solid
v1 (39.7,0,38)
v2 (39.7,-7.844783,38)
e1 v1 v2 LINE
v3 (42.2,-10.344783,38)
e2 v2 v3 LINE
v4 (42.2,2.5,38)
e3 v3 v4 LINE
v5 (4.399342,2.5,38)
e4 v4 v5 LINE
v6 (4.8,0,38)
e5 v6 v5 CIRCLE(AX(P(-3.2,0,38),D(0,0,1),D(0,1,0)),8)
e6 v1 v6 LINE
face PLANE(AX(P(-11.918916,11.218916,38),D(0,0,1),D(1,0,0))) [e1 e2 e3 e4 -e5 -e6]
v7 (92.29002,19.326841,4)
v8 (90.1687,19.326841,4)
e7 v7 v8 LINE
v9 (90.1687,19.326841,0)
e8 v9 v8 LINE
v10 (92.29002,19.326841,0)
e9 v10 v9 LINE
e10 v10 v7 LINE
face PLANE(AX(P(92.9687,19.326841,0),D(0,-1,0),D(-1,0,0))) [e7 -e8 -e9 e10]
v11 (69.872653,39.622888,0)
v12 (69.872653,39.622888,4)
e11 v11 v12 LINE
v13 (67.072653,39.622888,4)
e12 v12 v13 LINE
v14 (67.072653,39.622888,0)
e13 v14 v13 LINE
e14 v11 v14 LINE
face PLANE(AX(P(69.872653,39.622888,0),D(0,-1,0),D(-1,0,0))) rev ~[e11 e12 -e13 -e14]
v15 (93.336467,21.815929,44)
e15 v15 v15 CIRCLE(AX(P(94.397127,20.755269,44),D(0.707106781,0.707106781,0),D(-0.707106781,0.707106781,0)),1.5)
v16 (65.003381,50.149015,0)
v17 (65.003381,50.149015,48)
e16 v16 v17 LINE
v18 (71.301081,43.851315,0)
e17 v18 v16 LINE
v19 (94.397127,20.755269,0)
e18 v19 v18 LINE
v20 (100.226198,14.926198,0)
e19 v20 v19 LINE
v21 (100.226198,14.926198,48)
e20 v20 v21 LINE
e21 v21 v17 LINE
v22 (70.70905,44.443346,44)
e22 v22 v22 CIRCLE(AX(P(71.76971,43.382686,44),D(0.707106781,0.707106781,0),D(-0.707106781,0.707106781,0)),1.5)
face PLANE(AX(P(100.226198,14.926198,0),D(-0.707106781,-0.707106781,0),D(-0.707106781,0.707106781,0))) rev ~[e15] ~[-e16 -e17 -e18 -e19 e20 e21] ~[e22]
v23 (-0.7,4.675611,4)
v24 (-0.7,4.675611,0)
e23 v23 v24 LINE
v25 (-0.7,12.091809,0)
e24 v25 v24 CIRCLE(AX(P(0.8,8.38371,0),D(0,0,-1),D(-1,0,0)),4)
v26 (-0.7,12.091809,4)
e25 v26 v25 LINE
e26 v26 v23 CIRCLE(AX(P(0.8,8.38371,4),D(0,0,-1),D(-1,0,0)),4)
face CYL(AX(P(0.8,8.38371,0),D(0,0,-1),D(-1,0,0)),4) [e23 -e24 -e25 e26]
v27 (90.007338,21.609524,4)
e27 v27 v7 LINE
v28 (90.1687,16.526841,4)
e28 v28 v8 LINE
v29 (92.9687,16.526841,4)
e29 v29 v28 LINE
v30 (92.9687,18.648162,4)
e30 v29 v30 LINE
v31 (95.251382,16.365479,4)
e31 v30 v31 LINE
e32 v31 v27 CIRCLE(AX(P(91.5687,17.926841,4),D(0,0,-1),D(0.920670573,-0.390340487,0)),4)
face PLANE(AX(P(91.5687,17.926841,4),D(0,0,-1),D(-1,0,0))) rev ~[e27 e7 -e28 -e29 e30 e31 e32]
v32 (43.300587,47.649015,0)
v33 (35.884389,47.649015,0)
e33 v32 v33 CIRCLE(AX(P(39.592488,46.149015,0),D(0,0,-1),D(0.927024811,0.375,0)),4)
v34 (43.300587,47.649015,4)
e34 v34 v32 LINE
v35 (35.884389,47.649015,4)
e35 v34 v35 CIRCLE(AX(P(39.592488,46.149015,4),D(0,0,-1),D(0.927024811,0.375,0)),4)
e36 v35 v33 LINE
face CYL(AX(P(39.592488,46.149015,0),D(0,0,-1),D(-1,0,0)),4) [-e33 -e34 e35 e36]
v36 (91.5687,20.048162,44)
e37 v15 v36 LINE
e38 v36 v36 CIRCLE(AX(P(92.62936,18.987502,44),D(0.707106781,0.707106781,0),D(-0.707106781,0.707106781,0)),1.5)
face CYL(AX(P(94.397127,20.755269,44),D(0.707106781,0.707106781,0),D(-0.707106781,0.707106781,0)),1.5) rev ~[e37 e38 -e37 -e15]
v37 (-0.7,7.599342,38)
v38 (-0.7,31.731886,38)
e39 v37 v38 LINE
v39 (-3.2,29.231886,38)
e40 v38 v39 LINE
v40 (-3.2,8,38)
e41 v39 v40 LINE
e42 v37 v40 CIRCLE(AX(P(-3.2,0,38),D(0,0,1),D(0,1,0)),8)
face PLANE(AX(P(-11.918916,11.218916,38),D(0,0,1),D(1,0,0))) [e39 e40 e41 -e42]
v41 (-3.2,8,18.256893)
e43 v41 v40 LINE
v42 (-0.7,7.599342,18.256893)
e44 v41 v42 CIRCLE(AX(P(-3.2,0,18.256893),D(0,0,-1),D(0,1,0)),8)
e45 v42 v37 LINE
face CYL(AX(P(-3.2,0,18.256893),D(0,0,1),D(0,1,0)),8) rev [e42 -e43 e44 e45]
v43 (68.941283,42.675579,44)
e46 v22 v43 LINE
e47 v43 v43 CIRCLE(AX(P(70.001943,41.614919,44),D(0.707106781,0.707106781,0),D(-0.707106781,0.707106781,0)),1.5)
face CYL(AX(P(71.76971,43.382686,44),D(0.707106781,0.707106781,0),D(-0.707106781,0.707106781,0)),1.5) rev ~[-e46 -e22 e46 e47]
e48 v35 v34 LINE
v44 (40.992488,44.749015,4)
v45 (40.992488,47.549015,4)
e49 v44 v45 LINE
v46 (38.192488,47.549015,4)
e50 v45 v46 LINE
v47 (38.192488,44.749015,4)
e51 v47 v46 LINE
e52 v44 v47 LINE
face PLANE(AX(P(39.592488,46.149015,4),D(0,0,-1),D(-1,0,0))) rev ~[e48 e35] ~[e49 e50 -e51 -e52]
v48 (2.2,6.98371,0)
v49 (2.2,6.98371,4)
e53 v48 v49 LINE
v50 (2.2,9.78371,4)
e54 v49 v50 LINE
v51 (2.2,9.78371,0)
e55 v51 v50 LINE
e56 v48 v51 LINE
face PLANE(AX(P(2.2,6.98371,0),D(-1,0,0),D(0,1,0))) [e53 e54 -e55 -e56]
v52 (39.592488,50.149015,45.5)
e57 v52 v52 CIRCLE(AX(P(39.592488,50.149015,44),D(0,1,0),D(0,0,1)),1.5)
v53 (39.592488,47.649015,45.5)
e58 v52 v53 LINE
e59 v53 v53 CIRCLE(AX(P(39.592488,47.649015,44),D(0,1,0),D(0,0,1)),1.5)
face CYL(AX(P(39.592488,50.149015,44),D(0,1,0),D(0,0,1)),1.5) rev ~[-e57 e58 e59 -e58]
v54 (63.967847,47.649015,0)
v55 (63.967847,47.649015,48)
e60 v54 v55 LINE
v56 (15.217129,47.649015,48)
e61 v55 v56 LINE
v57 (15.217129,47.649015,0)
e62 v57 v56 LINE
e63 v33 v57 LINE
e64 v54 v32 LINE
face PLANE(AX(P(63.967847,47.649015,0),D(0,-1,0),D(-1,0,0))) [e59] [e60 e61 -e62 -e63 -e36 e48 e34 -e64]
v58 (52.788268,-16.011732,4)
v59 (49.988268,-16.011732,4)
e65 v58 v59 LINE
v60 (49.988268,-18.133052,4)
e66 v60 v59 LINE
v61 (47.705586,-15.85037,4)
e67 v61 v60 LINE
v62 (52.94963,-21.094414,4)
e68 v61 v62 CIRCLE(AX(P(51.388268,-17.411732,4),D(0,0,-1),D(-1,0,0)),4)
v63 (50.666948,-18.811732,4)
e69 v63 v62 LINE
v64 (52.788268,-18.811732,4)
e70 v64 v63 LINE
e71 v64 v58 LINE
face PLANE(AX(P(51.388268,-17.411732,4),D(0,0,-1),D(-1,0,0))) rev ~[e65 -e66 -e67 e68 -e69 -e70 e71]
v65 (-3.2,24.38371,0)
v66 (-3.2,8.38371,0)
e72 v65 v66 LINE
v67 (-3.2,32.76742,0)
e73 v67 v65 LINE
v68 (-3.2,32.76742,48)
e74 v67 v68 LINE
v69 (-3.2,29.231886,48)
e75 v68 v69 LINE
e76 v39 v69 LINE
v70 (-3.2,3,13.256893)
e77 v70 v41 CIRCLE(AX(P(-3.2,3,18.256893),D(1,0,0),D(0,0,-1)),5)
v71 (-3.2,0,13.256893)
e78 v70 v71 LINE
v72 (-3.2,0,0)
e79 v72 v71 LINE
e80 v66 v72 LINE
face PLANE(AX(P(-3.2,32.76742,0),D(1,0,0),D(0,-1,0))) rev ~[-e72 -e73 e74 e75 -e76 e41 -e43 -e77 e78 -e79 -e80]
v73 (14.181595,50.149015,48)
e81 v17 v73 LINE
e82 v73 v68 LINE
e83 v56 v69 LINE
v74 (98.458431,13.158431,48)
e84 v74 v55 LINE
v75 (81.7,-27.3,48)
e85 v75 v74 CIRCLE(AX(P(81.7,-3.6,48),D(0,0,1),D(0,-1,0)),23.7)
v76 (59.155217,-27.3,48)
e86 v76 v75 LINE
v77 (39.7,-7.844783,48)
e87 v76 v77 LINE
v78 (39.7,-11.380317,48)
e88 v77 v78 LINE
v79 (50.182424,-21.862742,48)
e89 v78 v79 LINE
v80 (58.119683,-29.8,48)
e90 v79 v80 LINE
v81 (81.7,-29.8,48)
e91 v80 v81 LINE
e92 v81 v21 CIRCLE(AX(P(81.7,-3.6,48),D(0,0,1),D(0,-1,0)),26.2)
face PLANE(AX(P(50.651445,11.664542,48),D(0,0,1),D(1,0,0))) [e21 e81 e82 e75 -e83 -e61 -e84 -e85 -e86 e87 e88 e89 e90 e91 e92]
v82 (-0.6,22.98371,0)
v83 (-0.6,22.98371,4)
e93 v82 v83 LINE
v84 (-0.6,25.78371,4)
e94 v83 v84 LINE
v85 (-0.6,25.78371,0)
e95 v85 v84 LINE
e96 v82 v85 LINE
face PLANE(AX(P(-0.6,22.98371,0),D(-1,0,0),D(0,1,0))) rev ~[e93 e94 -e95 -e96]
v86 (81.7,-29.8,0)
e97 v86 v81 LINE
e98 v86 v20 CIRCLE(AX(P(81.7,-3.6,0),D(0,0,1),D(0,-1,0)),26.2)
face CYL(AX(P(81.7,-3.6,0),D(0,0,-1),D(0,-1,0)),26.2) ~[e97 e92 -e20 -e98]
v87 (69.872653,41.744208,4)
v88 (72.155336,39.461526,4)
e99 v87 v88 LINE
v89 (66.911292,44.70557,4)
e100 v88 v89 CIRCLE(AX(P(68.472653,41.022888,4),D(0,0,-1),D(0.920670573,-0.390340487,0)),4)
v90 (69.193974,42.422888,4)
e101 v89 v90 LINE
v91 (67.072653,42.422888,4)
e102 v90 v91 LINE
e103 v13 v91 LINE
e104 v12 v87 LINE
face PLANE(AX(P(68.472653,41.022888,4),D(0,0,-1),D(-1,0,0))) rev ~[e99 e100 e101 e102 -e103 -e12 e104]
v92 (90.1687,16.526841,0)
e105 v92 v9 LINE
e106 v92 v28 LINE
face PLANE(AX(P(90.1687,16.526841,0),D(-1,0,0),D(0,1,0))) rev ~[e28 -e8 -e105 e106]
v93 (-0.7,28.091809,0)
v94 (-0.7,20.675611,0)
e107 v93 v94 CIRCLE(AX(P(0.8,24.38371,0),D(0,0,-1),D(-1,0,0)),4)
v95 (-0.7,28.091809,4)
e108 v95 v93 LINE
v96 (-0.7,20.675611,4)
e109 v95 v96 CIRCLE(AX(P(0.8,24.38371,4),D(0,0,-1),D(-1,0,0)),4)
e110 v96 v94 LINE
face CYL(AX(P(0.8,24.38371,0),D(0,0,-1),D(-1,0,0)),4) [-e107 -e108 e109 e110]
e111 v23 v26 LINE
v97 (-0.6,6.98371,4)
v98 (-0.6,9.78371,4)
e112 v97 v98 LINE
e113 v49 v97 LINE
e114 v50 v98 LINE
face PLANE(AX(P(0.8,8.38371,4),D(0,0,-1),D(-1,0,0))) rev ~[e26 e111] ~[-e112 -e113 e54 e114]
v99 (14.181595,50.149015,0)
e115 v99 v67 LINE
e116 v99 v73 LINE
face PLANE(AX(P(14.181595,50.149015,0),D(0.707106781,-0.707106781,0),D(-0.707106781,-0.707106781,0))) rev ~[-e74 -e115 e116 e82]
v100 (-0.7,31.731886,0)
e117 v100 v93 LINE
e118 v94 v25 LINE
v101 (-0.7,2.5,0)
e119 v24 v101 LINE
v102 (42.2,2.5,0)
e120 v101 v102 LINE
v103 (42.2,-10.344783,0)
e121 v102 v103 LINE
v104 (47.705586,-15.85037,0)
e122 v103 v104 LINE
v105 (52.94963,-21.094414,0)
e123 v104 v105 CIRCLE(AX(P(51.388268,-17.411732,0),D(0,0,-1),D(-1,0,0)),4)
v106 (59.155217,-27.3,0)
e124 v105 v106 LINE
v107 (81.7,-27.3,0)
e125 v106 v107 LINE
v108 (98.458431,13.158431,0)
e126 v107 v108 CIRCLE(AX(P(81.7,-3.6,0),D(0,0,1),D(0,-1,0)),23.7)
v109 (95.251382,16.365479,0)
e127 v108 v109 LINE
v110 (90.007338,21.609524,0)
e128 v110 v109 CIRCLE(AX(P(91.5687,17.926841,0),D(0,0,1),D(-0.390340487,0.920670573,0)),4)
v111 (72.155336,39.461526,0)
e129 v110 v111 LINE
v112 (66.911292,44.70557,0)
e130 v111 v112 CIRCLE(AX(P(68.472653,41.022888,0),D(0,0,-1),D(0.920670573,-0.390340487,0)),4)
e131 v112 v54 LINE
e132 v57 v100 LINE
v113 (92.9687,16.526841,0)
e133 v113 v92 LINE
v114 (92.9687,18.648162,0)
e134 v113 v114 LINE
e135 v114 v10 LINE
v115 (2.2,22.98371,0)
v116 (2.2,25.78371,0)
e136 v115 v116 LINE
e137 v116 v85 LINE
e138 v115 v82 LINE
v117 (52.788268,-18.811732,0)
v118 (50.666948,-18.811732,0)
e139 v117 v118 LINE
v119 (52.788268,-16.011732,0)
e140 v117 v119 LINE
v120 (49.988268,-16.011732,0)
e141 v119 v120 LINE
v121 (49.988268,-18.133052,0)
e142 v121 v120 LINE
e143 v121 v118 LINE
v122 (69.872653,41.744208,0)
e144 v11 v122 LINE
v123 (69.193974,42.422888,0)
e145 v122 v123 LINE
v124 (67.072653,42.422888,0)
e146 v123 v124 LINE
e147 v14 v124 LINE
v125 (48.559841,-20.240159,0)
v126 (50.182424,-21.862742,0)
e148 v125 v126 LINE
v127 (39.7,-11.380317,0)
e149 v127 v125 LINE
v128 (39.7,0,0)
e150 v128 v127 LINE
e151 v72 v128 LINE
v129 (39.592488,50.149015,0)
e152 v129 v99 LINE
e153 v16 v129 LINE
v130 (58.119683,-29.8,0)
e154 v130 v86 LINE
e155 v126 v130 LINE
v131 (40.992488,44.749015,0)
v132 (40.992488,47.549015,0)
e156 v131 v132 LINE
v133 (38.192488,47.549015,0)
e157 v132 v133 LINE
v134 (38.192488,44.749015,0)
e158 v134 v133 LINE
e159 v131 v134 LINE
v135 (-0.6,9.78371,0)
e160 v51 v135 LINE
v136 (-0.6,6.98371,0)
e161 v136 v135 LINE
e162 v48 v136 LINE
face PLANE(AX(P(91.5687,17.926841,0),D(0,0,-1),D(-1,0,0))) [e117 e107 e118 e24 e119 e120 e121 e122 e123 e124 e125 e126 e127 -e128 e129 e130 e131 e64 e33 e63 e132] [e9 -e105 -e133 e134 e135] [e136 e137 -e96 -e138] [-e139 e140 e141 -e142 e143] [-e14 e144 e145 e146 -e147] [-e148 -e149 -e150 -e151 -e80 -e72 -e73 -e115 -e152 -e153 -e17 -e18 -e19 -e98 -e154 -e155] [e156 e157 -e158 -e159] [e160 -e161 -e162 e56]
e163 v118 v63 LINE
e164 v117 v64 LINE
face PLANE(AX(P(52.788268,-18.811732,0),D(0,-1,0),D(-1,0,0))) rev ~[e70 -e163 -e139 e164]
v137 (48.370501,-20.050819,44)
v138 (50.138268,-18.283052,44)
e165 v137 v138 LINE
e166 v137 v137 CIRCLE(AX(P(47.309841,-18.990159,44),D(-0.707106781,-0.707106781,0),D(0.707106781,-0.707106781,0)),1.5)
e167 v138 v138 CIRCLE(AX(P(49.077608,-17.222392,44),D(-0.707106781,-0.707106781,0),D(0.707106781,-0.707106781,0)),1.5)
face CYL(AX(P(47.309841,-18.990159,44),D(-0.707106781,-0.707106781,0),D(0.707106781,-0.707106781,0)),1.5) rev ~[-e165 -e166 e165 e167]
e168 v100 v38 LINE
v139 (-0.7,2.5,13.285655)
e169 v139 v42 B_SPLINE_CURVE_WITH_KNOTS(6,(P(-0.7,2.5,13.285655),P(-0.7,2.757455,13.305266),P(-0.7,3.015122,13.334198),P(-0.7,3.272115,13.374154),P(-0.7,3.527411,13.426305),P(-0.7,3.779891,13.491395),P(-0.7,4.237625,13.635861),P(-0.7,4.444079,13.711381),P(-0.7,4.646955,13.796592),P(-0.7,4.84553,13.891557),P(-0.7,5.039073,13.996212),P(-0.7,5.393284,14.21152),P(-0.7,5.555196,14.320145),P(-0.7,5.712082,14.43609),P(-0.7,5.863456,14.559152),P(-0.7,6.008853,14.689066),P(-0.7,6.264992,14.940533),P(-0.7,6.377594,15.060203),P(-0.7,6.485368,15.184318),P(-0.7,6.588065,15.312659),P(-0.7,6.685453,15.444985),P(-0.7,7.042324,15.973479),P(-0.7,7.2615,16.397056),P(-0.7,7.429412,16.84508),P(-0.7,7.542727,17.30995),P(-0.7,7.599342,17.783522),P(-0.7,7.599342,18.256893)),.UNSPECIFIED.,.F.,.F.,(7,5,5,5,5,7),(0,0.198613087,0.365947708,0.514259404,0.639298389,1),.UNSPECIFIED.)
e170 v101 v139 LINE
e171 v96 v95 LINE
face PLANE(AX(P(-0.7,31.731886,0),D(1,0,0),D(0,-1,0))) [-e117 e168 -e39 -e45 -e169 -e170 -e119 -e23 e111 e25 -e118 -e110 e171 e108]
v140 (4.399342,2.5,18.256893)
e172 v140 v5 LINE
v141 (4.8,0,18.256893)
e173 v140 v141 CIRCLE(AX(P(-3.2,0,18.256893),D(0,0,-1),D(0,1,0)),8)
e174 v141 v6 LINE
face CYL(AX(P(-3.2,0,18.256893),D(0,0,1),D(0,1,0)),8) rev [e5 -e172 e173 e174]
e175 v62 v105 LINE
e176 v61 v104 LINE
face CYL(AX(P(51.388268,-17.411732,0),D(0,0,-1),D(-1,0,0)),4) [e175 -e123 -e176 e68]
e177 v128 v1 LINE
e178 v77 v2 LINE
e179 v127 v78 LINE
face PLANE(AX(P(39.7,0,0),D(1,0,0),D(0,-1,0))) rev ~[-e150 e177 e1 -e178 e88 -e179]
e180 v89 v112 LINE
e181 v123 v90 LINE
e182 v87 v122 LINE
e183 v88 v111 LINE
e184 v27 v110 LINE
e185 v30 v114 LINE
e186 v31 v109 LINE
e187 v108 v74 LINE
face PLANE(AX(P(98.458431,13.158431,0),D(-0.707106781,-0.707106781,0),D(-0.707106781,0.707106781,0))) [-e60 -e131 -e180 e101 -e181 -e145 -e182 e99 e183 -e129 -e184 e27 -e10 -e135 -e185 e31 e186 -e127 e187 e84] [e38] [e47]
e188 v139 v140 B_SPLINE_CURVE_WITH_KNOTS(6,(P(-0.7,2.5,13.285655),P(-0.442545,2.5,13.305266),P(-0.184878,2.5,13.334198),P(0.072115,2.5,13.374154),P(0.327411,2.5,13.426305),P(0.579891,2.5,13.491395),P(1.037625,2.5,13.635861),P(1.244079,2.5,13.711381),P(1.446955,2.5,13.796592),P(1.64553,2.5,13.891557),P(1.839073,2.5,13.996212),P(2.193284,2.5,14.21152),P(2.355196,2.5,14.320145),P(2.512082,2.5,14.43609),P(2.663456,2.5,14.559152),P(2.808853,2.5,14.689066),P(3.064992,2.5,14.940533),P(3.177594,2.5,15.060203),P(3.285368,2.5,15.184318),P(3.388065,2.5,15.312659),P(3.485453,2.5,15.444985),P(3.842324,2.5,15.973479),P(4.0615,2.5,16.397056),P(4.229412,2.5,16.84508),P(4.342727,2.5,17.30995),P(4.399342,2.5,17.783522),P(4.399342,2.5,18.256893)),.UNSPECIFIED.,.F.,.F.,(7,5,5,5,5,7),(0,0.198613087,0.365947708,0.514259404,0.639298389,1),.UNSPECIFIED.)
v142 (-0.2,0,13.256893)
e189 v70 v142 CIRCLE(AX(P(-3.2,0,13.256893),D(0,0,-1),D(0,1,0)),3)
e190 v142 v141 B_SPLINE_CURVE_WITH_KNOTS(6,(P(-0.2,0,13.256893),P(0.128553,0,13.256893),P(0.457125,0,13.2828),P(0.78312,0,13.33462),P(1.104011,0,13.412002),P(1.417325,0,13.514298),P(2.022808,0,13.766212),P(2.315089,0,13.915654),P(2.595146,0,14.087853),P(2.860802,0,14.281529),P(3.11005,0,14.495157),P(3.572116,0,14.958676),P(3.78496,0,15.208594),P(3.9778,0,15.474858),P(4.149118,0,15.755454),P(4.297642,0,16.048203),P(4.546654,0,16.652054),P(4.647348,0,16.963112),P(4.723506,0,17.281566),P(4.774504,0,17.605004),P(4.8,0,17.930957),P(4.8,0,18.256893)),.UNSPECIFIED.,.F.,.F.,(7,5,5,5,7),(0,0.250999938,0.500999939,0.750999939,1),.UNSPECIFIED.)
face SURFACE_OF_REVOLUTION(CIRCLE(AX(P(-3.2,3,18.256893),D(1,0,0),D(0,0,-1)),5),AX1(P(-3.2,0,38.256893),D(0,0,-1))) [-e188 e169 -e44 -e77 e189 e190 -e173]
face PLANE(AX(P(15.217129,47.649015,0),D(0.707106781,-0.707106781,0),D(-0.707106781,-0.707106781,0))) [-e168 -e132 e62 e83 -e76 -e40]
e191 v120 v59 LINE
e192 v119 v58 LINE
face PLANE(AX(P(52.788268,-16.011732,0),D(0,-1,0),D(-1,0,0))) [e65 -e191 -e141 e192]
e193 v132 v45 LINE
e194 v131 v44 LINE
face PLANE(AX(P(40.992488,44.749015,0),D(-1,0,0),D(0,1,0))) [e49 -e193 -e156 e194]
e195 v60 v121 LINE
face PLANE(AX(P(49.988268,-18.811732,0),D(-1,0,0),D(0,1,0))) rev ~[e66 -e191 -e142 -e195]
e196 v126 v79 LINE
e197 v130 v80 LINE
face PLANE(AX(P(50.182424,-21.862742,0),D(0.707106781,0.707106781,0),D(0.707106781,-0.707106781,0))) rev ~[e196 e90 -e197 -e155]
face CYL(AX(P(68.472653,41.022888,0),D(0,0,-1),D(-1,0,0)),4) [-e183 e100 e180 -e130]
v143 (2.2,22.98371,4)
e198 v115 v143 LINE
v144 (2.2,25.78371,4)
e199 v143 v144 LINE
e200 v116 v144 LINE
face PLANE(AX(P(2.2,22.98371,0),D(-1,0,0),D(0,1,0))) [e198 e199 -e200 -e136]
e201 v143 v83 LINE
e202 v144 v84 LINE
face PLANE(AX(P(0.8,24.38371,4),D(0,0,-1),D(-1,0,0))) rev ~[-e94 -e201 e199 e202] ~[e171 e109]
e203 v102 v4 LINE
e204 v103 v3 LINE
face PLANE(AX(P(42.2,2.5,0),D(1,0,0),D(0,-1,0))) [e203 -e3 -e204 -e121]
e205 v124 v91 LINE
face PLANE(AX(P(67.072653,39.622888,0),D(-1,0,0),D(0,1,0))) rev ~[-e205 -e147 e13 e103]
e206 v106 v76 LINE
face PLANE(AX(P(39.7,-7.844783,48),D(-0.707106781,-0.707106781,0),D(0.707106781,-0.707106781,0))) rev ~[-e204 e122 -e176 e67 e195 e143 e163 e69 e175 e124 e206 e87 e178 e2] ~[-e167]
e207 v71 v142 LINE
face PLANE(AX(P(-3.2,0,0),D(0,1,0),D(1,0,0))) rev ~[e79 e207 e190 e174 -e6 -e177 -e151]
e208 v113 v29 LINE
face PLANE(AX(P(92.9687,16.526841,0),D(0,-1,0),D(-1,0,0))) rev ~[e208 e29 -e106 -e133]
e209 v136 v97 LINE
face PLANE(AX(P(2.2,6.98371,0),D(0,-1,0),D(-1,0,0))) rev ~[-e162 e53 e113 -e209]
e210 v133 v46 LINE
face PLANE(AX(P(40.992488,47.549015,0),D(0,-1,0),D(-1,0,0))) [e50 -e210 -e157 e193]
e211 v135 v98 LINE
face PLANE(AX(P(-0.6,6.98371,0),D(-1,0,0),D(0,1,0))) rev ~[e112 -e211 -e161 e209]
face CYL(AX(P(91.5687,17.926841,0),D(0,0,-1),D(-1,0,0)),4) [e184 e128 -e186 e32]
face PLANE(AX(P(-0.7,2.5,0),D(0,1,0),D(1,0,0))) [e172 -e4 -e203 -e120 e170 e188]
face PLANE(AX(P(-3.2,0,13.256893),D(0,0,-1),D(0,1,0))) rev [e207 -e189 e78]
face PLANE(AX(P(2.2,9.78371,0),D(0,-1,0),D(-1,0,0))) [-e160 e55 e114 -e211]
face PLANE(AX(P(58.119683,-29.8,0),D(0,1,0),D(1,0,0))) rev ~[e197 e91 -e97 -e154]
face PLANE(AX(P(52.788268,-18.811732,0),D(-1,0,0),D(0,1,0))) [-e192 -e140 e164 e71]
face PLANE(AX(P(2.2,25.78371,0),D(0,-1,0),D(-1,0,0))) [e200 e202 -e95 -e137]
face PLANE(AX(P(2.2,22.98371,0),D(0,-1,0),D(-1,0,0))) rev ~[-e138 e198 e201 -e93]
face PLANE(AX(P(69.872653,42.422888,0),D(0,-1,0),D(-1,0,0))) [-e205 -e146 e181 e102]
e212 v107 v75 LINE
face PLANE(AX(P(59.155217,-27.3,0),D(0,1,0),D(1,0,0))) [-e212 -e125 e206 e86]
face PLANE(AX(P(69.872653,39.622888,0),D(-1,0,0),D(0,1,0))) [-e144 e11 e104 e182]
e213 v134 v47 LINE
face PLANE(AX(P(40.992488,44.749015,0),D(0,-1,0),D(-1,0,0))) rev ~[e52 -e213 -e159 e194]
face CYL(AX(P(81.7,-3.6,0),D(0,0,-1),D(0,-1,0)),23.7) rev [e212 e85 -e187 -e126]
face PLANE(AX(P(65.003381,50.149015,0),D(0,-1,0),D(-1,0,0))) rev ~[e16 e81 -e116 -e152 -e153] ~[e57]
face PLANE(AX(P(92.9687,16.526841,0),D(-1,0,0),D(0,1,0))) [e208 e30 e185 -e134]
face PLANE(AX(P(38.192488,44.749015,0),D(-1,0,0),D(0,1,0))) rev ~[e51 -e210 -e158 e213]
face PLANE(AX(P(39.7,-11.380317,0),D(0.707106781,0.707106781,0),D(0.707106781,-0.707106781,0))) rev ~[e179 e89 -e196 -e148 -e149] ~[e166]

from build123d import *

# Parameters (mm, degrees)
RESSALTO_EXTRUS_O1_DEPTH = 48
ESBO_O12_R               = 1.5
CORTE_EXTRUS_O10_DEPTH   = 10
ESBO_O13_R               = 1.5
CORTE_EXTRUS_O11_DEPTH   = 10
ESBO_O14_R               = 1.5
CORTE_EXTRUS_O12_DEPTH   = 10
ESBO_O15_R               = 1.5
CORTE_EXTRUS_O13_DEPTH   = 10
CORTE_EXTRUS_O14_DEPTH   = 10
ESBO_O17_R               = 4
ESBO_O17_W               = 2.8
ESBO_O17_H               = 2.8
RESSALTO_EXTRUS_O2_DEPTH = 4
CORTE_EXTRUS_O15_DEPTH   = 10


with BuildPart() as part:
    # Model → Ressalto-extrusão1 (new body)
    with BuildSketch(Plane.XY):
        with BuildLine():
            Line((-0.7, 0), (39, 0))
            Line((39, 0), (39.7, 0))
            Line((39.7, 0), (39.7, -11.380317396))
            Line((39.7, -11.380317396), (50.182424304, -21.8627417))
            Line((50.182424304, -21.8627417), (58.119682605, -29.8))
            Line((58.119682605, -29.8), (81.7, -29.8))
            ThreePointArc((81.7, -29.8), (105.905643752, -13.626305928), (100.226197667, 14.926197667))
            Line((100.226197667, 14.926197667), (65.00338056, 50.149014774))
            Line((65.00338056, 50.149014774), (50.111140335, 50.149014774))
            Line((50.111140335, 50.149014774), (14.181595121, 50.149014774))
            Line((14.181595121, 50.149014774), (-3.2, 32.767419653))
            Line((-3.2, 32.767419653), (-3.2, 5))
            Line((-3.2, 5), (-3.2, 0))
            Line((-3.2, 0), (-0.7, 0))
        make_face()
        with BuildLine():
            Line((-0.7, 2.5), (39, 2.5))
            Line((39, 2.5), (39.7, 2.5))
            Line((39.7, 2.5), (42.2, 2.5))
            Line((42.2, 2.5), (42.2, -10.34478349))
            Line((42.2, -10.34478349), (51.950191257, -20.094974747))
            Line((51.950191257, -20.094974747), (59.15521651, -27.3))
            Line((59.15521651, -27.3), (81.7, -27.3))
            ThreePointArc((81.7, -27.3), (103.595944921, -12.669597347), (98.458430714, 13.158430714))
            Line((98.458430714, 13.158430714), (63.967846654, 47.649014774))
            Line((63.967846654, 47.649014774), (50.111140335, 47.649014774))
            Line((50.111140335, 47.649014774), (15.217129027, 47.649014774))
            Line((15.217129027, 47.649014774), (-0.7, 31.731885747))
            Line((-0.7, 31.731885747), (-0.7, 2.5))
        make_face(mode=Mode.SUBTRACT)
    extrude(amount=RESSALTO_EXTRUS_O1_DEPTH)

    # Esboço12 → Corte-extrusão10 (cut)
    with BuildSketch(Plane(origin=(57.576197667, 57.576197667, 0), x_dir=(0, 0, -1), z_dir=(0.7071067811865476, 0.7071067811865475, 0))):
        with Locations(Location((-44, -20.072657306, 0), (0, 0, 90))):
            Circle(ESBO_O12_R)
        with Locations(Location((-44, -52.072657306, 0), (0, 0, 90))):
            Circle(ESBO_O12_R)
    extrude(amount=-CORTE_EXTRUS_O10_DEPTH, mode=Mode.SUBTRACT)

    # Esboço13 → Corte-extrusão11 (cut)
    with BuildSketch(Plane(origin=(0, 50.149014774, 0), x_dir=(1, 0, 0), z_dir=(0, 1, 0))):
        with Locations(Location((39.59248784, -44, 0), (0, 0, 270))):
            Circle(ESBO_O13_R)
    extrude(amount=-CORTE_EXTRUS_O11_DEPTH, mode=Mode.SUBTRACT)

    # Esboço14 → Corte-extrusão12 (cut)
    with BuildSketch(Plane.ZY.offset(3.2)):
        with Locations((44, 23.701037279)):
            Circle(ESBO_O14_R)
        with Locations((44, 7.740898975)):
            Circle(ESBO_O14_R)
    extrude(amount=-CORTE_EXTRUS_O12_DEPTH, mode=Mode.SUBTRACT)

    # Esboço15 → Corte-extrusão13 (cut)
    with BuildSketch(Plane(origin=(14.159841302, 14.159841302, 0), x_dir=(0, 0, 1), z_dir=(-0.7071067811865477, -0.7071067811865475, 0))):
        with Locations(Location((44, -46.881179593, 0), (0, 0, 270))):
            Circle(ESBO_O15_R)
    extrude(amount=-CORTE_EXTRUS_O13_DEPTH, mode=Mode.SUBTRACT)

    # Esboço16 → Corte-extrusão14 (cut)
    with BuildSketch(Plane.XY.offset(48)):
        Polygon((39.7, 0), (39.7, -7.84478349), (42.2, -10.34478349), (42.2, 2.5), (-0.7, 2.5), (-0.7, 0), align=None)
    extrude(amount=-CORTE_EXTRUS_O14_DEPTH, mode=Mode.SUBTRACT)

    # Esboço17 → Ressalto-extrusão2 (add)
    # profile 1 of 6: a face of its own
    with BuildSketch(Plane(origin=(0, 0, 0), x_dir=(-1, 0, 0), z_dir=(0, 0, -1))):
        with Locations((-91.568699638, 17.926841447)):
            Circle(ESBO_O17_R)
        with Locations((-91.568699638, 17.926841447)):
            Rectangle(ESBO_O17_W, ESBO_O17_H, mode=Mode.SUBTRACT)
    # profile 2 of 6: a face of its own
    with BuildSketch(Plane(origin=(0, 0, 0), x_dir=(-1, 0, 0), z_dir=(0, 0, -1))):
        with Locations((-68.47265349, 41.022887595)):
            Circle(ESBO_O17_R)
        with Locations((-68.47265349, 41.022887595)):
            Rectangle(ESBO_O17_W, ESBO_O17_H, mode=Mode.SUBTRACT)
    # profile 3 of 6: a face of its own
    with BuildSketch(Plane(origin=(0, 0, 0), x_dir=(-1, 0, 0), z_dir=(0, 0, -1))):
        with Locations((-39.59248784, 46.149014774)):
            Circle(ESBO_O17_R)
        with Locations((-39.59248784, 46.149014774)):
            Rectangle(ESBO_O17_W, ESBO_O17_H, mode=Mode.SUBTRACT)
    # profile 4 of 6: a face of its own
    with BuildSketch(Plane(origin=(0, 0, 0), x_dir=(-1, 0, 0), z_dir=(0, 0, -1))):
        with Locations((-0.8, 24.383709827)):
            Circle(ESBO_O17_R)
        with Locations((-0.8, 24.383709827)):
            Rectangle(ESBO_O17_W, ESBO_O17_H, mode=Mode.SUBTRACT)
    # profile 5 of 6: a face of its own
    with BuildSketch(Plane(origin=(0, 0, 0), x_dir=(-1, 0, 0), z_dir=(0, 0, -1))):
        with Locations((-0.8, 8.383709827)):
            Circle(ESBO_O17_R)
        with Locations((-0.8, 8.383709827)):
            Rectangle(ESBO_O17_W, ESBO_O17_H, mode=Mode.SUBTRACT)
    # profile 6 of 6: a face of its own
    with BuildSketch(Plane(origin=(0, 0, 0), x_dir=(-1, 0, 0), z_dir=(0, 0, -1))):
        with Locations((-51.388268427, -17.411731573)):
            Circle(ESBO_O17_R)
        with Locations((-51.388268427, -17.411731573)):
            Rectangle(ESBO_O17_W, ESBO_O17_H, mode=Mode.SUBTRACT)
    extrude(amount=-RESSALTO_EXTRUS_O2_DEPTH)

    # Esboço18 → Corte-extrusão15 (cut)
    with BuildSketch(Plane.XY.offset(48)):
        Polygon((-0.7, 31.731885747), (-32.431885747, 0), (-0.7, 0), align=None)
    extrude(amount=-CORTE_EXTRUS_O15_DEPTH, mode=Mode.SUBTRACT)

    # Esboço19 → Corte-Revolução1 (revolve, cut)
    with BuildSketch(Plane.ZY.offset(3.2)):
        with BuildLine():
            Line((38.25689259, 0), (13.25689259, 0))
            Line((13.25689259, 0), (13.25689259, 3))
            ThreePointArc((13.25689259, 3), (14.721358684, 6.535533906), (18.25689259, 8))
            Line((18.25689259, 8), (38.25689259, 8))
            Line((38.25689259, 8), (38.25689259, 0))
        make_face()
    revolve(axis=Axis((-3.2, 0, 38.25689259), (0, 0, -1)), mode=Mode.SUBTRACT)


solid = part.part
